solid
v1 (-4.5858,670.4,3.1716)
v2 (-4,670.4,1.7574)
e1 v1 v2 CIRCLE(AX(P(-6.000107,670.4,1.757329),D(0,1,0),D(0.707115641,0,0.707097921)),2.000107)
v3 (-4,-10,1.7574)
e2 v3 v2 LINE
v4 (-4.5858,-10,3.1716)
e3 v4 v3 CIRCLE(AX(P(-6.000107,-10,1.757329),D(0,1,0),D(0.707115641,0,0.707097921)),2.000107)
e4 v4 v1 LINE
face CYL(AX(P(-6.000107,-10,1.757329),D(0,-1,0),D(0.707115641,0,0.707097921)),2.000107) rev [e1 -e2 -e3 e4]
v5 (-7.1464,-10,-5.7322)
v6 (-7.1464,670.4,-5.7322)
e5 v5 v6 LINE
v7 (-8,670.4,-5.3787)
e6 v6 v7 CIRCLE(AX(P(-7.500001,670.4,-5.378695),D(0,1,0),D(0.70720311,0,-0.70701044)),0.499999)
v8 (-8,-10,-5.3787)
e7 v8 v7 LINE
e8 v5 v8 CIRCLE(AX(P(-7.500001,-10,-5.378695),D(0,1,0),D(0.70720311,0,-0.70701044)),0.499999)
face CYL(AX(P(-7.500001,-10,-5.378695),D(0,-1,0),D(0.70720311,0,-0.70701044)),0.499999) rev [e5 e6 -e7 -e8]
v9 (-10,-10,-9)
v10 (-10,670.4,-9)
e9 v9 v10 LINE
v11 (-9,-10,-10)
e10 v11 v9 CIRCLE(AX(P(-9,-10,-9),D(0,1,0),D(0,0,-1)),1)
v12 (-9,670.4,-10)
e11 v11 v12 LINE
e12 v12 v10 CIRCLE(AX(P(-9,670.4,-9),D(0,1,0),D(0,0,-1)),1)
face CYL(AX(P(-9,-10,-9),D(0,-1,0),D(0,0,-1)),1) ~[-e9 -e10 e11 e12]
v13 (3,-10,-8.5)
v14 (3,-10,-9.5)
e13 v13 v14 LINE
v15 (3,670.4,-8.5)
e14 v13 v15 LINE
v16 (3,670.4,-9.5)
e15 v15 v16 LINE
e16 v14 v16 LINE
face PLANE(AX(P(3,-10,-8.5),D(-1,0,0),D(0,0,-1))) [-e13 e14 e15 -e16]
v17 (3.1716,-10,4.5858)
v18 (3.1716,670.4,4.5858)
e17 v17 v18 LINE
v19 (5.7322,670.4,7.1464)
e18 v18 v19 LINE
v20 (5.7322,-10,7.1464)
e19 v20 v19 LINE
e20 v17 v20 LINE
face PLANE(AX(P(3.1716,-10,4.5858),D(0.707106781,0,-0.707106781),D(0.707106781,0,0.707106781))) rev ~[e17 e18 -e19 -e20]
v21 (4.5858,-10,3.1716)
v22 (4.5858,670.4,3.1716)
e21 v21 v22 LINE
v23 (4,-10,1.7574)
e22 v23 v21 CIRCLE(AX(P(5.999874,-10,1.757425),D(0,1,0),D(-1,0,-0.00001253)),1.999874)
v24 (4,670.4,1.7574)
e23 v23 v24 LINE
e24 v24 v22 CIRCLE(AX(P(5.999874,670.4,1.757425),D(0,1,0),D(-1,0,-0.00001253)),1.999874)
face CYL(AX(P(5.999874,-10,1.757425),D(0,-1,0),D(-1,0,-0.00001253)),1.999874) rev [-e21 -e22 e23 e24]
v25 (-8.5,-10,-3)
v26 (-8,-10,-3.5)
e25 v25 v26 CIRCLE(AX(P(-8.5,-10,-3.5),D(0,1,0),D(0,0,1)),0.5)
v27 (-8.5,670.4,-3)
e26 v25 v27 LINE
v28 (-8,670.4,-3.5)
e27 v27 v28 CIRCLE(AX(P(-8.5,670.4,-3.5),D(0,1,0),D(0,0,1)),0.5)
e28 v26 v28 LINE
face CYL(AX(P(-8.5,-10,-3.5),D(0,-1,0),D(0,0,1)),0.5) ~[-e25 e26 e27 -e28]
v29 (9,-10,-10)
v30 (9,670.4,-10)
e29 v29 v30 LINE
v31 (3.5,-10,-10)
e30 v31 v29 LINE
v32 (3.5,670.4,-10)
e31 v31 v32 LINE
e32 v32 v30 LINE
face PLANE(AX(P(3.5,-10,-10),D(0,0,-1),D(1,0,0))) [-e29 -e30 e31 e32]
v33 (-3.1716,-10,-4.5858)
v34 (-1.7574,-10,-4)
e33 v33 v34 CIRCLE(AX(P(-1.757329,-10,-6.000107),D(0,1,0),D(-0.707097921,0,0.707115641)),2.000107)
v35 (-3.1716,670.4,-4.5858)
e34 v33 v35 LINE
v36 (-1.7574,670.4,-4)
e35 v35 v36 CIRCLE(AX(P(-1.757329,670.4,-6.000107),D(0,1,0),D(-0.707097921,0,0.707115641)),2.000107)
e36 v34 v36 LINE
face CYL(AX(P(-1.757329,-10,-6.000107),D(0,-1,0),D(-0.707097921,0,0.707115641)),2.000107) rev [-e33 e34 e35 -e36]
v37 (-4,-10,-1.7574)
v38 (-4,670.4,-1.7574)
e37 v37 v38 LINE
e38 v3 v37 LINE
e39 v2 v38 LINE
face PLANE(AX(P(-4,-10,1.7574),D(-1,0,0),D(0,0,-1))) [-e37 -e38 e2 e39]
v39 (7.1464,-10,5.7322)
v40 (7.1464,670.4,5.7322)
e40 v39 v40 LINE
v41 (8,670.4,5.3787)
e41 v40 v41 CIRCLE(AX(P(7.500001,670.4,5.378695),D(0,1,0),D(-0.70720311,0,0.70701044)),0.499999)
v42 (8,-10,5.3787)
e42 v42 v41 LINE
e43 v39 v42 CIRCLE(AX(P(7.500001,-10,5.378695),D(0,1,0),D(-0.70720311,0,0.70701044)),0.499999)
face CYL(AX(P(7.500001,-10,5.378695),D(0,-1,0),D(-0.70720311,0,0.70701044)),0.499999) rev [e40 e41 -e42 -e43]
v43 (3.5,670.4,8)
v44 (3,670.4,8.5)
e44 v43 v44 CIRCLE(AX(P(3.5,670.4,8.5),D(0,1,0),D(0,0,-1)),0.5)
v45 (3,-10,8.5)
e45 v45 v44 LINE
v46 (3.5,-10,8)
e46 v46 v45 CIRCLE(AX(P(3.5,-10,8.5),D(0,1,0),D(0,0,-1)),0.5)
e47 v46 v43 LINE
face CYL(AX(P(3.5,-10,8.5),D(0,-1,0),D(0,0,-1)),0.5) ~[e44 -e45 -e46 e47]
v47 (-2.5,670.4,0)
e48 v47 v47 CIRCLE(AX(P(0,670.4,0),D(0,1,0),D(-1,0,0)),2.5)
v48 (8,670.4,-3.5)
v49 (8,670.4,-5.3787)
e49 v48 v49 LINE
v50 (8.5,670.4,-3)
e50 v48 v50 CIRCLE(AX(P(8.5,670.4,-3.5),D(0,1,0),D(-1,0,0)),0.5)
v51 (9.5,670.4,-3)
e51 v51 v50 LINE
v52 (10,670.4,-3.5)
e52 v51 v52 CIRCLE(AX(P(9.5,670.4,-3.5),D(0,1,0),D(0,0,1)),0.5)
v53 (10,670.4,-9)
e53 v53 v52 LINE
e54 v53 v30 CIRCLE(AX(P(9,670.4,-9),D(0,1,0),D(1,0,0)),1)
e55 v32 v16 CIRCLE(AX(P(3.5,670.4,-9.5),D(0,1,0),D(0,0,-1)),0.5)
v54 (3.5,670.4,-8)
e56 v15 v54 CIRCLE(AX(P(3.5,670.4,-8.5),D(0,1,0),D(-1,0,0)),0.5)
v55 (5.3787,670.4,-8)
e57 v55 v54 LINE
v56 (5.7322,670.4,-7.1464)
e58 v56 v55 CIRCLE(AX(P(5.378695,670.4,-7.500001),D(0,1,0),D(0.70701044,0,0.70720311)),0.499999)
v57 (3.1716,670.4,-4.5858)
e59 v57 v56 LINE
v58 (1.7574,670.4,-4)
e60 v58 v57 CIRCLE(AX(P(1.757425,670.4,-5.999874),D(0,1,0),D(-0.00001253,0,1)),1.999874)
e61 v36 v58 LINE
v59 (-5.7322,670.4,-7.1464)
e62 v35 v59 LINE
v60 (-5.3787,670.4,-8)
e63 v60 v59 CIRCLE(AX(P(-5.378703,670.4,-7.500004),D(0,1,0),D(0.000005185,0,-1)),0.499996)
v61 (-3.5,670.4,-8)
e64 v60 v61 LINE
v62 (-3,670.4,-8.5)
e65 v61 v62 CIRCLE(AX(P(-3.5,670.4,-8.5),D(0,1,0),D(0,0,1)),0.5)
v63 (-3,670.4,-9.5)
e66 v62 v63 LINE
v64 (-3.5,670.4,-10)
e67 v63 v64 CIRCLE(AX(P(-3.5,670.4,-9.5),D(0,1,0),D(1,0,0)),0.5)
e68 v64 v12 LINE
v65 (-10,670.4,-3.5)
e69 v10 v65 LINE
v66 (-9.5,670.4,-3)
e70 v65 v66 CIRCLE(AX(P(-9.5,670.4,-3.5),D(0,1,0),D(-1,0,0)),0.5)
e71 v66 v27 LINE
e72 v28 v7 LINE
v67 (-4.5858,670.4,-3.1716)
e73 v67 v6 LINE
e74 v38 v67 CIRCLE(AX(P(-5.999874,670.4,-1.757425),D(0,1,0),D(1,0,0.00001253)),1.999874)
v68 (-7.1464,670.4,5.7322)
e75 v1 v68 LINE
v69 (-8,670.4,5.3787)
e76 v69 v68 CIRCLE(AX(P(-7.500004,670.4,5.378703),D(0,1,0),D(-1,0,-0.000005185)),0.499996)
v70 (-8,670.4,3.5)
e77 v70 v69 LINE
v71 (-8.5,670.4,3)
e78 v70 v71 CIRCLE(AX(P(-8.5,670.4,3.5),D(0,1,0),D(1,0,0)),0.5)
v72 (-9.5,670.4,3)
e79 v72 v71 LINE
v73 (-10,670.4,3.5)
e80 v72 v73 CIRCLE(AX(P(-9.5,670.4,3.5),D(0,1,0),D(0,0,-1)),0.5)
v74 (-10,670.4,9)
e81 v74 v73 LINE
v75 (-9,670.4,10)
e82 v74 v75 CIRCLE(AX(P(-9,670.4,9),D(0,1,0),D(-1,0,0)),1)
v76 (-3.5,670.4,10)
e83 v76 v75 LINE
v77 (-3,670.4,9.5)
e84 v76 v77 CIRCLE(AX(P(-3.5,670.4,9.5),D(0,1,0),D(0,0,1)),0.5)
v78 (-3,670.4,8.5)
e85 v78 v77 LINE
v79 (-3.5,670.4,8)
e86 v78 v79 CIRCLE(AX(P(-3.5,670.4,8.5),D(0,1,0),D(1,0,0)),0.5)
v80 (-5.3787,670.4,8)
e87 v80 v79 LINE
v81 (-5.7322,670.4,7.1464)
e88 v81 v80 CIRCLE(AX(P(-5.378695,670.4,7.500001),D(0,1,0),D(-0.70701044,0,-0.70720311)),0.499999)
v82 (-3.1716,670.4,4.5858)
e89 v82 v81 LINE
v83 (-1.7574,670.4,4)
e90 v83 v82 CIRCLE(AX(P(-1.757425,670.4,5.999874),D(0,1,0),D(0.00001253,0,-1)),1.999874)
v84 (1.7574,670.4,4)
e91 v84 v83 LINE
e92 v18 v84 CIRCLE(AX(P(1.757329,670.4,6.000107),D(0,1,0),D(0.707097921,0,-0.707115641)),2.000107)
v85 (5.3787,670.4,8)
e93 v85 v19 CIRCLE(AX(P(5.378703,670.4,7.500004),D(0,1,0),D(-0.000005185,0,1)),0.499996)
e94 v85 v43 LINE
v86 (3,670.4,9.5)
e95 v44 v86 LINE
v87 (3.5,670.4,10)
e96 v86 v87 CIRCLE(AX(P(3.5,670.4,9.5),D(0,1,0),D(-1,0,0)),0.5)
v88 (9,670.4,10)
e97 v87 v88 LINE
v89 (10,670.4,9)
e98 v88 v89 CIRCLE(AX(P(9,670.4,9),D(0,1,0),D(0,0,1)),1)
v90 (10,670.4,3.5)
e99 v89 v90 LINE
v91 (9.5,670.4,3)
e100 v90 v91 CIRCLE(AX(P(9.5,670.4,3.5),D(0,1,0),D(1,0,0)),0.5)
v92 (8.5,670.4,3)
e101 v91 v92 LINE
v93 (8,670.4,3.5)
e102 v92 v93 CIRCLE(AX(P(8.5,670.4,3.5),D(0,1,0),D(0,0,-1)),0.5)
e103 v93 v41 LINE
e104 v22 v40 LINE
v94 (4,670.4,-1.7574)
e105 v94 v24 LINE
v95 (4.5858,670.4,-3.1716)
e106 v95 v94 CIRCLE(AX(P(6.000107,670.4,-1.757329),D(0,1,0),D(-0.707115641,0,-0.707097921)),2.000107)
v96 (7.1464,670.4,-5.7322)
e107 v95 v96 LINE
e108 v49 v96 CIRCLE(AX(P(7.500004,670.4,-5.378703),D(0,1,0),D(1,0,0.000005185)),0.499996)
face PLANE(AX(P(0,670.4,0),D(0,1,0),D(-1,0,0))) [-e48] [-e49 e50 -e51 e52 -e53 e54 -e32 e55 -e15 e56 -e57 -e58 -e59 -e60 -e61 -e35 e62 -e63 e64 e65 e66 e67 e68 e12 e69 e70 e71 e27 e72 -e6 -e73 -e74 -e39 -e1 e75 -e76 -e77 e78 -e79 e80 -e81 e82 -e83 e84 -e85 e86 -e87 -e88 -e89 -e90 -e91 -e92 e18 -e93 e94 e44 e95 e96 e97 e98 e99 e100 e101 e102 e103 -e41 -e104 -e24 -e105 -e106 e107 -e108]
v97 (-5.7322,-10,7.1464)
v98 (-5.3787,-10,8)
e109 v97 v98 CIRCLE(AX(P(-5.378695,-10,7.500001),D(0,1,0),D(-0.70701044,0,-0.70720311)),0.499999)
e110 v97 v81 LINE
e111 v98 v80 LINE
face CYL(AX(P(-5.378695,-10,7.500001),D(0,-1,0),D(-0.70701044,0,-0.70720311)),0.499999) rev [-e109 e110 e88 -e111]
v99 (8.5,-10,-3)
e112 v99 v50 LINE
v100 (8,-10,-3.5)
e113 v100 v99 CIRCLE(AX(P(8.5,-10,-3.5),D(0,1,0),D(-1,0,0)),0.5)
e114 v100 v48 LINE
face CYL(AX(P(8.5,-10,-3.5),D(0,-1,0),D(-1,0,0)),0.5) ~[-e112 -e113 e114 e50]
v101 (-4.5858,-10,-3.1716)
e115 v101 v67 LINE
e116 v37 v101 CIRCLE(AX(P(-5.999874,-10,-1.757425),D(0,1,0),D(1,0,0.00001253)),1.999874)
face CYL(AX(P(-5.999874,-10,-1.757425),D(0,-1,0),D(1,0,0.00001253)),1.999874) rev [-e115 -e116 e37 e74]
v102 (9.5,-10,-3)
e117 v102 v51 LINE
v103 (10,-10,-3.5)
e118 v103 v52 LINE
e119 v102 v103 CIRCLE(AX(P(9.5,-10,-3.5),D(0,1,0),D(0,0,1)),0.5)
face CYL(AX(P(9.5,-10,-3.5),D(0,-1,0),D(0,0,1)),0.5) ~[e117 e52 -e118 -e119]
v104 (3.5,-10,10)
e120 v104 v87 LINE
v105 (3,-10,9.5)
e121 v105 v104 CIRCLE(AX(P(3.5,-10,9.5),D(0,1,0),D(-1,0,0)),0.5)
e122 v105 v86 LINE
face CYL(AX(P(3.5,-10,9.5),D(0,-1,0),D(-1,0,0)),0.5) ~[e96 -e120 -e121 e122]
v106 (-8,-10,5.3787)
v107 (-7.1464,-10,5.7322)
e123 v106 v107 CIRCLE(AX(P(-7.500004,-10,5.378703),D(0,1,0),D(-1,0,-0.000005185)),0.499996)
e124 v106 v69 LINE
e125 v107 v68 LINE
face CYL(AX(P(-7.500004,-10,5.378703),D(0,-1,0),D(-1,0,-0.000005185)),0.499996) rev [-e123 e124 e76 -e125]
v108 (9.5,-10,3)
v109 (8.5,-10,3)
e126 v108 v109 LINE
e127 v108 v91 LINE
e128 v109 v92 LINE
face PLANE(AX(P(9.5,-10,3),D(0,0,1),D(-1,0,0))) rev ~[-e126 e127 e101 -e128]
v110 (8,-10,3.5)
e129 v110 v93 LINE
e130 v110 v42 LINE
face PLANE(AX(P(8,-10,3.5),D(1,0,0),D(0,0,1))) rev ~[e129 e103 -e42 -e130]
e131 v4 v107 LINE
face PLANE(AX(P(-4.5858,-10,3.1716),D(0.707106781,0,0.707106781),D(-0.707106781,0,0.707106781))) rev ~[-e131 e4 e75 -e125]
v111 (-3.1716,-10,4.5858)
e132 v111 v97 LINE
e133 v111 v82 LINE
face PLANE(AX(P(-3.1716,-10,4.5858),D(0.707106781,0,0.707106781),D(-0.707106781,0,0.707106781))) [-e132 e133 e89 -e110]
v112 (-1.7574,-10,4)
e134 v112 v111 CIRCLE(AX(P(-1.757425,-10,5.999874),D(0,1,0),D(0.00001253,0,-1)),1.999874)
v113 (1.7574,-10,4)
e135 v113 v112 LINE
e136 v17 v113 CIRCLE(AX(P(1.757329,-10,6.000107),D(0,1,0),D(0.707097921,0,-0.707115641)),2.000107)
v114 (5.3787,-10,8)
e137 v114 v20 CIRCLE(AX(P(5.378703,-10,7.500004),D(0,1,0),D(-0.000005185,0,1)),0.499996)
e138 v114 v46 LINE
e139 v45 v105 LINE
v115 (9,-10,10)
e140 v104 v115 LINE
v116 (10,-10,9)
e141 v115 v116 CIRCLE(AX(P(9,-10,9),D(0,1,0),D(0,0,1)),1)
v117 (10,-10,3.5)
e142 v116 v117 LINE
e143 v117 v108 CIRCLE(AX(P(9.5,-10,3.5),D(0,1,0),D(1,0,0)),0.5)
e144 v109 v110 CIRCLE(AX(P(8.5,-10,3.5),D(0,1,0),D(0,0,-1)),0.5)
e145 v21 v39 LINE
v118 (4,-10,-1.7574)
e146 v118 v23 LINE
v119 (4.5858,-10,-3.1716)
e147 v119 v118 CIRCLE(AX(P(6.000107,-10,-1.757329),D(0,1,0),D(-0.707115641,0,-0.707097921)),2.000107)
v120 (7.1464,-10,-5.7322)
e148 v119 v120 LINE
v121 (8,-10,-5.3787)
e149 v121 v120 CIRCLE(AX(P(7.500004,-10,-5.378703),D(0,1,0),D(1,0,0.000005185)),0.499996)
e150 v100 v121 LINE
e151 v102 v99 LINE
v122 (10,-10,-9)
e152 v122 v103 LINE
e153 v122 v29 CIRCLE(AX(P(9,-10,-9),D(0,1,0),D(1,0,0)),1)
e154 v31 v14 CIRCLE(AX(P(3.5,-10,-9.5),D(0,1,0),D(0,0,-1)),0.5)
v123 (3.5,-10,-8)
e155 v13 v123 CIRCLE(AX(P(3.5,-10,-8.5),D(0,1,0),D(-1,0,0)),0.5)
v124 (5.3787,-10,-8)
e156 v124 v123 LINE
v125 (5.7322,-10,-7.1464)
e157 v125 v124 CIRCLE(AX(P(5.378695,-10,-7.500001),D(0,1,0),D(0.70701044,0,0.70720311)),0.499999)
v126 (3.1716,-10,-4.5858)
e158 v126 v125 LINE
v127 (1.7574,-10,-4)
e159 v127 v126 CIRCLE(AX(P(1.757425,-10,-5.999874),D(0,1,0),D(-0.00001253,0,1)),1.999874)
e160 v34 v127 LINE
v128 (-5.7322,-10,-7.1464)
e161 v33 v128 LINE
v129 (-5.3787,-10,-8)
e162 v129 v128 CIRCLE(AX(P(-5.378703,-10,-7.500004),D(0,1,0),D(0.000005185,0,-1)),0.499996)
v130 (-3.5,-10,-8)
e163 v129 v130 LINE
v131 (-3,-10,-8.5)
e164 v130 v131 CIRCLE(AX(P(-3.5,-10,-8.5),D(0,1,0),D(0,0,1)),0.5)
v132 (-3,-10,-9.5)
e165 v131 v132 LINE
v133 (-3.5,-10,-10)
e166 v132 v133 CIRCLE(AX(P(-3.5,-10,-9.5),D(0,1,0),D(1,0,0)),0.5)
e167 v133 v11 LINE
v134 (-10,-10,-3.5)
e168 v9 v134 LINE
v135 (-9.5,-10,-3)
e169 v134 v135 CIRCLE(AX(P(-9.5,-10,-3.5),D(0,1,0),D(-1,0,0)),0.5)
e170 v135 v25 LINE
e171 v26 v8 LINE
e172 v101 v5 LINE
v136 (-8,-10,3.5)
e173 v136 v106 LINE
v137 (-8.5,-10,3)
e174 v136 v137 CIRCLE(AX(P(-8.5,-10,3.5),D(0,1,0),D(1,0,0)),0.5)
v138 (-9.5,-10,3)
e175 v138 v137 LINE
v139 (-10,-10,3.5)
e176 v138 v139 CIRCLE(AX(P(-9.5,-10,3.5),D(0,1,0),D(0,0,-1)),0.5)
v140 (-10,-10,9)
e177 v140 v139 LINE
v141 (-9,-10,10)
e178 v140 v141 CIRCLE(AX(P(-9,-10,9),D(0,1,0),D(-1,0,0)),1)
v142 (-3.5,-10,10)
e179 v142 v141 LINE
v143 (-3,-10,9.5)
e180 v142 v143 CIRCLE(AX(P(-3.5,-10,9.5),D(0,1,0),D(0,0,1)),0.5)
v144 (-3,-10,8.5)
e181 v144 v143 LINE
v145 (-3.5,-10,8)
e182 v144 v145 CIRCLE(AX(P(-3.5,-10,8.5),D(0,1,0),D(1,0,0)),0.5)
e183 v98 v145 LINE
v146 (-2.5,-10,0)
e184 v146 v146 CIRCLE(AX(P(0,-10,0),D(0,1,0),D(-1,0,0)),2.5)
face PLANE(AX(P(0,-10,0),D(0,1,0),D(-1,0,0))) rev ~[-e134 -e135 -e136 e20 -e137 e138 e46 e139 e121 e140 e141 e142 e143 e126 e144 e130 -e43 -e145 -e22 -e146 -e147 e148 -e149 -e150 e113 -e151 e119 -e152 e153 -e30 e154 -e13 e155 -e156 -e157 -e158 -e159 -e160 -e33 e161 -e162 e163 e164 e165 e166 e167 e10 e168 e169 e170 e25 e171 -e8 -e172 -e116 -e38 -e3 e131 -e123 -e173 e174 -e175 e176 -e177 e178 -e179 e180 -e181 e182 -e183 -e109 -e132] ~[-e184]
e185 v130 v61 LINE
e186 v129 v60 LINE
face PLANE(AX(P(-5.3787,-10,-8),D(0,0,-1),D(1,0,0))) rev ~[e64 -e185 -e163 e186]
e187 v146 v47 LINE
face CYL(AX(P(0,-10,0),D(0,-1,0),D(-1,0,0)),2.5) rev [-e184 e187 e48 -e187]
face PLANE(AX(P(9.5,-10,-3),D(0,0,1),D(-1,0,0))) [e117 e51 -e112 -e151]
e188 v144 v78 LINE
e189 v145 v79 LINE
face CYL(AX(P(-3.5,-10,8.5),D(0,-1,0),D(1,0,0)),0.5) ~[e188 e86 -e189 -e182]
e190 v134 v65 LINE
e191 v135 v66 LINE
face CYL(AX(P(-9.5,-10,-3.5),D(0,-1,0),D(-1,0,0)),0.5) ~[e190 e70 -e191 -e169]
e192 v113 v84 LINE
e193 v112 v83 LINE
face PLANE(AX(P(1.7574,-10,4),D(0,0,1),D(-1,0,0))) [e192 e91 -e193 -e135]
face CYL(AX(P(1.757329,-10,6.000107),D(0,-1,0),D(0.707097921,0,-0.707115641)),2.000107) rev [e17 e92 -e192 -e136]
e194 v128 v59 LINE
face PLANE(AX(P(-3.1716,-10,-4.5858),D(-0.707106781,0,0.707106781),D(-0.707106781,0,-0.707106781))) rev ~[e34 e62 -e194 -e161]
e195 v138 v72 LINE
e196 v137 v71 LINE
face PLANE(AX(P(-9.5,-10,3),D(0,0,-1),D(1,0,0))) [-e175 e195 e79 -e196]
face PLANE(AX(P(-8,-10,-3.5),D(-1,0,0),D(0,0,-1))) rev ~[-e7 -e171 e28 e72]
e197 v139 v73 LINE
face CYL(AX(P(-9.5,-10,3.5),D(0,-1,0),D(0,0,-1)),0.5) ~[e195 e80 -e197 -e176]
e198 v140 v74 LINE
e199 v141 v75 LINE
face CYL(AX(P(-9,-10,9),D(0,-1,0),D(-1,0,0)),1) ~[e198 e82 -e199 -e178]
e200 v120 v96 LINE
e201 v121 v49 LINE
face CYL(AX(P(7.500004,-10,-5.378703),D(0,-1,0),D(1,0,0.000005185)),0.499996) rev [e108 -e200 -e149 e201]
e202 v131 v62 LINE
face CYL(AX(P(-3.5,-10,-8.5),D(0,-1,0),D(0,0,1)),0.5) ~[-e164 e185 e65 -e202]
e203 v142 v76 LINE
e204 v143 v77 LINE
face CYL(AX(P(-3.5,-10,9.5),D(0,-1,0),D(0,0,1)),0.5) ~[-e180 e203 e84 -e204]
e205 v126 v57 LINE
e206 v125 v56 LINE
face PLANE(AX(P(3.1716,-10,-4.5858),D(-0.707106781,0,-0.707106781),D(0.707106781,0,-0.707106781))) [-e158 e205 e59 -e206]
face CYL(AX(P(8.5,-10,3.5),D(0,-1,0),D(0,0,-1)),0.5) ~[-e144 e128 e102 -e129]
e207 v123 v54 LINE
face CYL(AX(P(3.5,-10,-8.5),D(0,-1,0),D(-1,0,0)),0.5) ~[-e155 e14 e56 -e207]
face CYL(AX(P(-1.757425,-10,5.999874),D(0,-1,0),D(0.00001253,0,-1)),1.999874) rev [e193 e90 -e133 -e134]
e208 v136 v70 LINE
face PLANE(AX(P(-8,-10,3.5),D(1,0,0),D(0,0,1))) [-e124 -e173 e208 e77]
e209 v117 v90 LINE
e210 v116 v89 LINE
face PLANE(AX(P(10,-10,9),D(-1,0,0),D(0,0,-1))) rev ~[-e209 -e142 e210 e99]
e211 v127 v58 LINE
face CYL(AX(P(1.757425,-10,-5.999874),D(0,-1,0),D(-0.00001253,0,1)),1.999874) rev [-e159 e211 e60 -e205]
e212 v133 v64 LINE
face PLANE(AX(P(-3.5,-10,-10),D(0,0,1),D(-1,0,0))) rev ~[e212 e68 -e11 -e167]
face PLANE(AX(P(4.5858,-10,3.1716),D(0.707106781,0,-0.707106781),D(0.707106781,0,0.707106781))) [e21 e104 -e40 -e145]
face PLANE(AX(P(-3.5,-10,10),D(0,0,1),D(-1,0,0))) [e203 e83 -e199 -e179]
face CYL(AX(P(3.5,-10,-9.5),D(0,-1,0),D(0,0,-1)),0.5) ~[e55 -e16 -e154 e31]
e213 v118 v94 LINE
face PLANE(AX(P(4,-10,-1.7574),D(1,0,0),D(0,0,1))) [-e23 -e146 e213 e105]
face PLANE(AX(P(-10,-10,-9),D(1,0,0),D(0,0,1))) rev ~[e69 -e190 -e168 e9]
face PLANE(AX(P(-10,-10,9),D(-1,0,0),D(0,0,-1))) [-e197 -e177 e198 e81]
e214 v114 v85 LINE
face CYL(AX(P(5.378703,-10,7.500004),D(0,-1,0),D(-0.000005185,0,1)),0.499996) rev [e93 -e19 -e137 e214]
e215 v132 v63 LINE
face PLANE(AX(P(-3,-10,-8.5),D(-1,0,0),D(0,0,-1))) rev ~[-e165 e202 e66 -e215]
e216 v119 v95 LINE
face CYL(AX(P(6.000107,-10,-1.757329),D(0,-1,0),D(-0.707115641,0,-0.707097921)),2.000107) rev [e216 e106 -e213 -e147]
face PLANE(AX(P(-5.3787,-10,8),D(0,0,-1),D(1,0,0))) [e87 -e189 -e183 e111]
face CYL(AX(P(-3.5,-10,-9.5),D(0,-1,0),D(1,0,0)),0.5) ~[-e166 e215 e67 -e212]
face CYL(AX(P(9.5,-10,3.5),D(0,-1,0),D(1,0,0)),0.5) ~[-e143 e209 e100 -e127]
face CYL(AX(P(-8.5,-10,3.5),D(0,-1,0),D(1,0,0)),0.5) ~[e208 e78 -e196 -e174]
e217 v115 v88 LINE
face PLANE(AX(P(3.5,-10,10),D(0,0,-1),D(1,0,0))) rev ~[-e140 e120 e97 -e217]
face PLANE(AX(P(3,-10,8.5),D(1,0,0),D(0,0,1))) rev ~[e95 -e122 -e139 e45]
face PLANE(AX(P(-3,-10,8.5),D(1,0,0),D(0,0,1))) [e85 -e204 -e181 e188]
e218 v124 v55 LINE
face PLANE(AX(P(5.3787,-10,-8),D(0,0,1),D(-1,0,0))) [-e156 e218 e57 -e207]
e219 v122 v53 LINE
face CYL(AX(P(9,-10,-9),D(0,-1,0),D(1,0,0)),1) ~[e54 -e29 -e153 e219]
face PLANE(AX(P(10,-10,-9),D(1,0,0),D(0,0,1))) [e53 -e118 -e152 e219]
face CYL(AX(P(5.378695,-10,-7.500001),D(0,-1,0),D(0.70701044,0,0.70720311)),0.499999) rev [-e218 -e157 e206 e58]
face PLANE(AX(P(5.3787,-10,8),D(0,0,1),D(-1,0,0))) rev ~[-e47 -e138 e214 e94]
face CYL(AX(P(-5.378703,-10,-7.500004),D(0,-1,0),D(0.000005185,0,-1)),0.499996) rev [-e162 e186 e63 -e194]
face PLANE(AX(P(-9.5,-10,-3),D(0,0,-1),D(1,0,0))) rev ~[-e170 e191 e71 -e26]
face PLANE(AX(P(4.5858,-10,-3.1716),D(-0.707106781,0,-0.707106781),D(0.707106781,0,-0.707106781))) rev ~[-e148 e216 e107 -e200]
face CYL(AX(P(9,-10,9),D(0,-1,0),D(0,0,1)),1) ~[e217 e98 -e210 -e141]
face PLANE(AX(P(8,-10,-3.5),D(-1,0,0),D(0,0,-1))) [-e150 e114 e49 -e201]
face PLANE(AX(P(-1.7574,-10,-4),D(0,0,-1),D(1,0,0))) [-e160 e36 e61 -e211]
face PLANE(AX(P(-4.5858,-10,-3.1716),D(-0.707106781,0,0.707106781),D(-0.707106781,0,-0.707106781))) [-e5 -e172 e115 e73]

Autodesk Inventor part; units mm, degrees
ref_plane "Start Plane" through (0, -10, 0) normal (0, 1, 0) x (-1, 0, 0)
ref_plane "End Plane" through (0, 670.4, 0) normal (0, 1, 0) x (-1, 0, 0)
sketch "Sketch" plane through (0, 0, 0) normal (0, 1, 0) x (-1, 0, 0)
  line L0 (-1.7574, 4) -> (1.7574, 4)
  line L1 (4, 1.7574) -> (4, -1.7574)
  line L2 (1.7574, -4) -> (-1.7574, -4)
  line L3 (-4, -1.7574) -> (-4, 1.7574)
  line L4 (4.5858, -3.1716) -> (7.1464, -5.7322)
  line L5 (3.1716, -4.5858) -> (5.7322, -7.1464)
  line L6 (5.3787, -8) -> (3.5, -8)
  line L7 (3, -8.5) -> (3, -9.5)
  line L8 (3.5, -10) -> (9, -10)
  line L9 (10, -9) -> (10, -3.5)
  line L10 (9.5, -3) -> (8.5, -3)
  line L11 (8, -3.5) -> (8, -5.3787)
  line L12 (4, 0) -> (-4, 0) construction
  line L13 (0, -4) -> (0, 4) construction
  arc A0 (4, -1.7574) -> (4.5858, -3.1716) centre (6, -1.7574) ccw
  arc A1 (3.1716, -4.5858) -> (1.7574, -4) centre (1.7574, -6) ccw
  arc A2 (3.5, -8) -> (3, -8.5) centre (3.5, -8.5) ccw
  arc A3 (3, -9.5) -> (3.5, -10) centre (3.5, -9.5) ccw
  arc A4 (10, -3.5) -> (9.5, -3) centre (9.5, -3.5) ccw
  arc A5 (8.5, -3) -> (8, -3.5) centre (8.5, -3.5) ccw
  arc A6 (7.1464, -5.7322) -> (8, -5.3787) centre (7.5, -5.3787) ccw
  arc A7 (5.3787, -8) -> (5.7322, -7.1464) centre (5.3787, -7.5) ccw
  arc A8 (9, -10) -> (10, -9) centre (9, -9) ccw
  line L14 (-4.5858, -3.1716) -> (-7.1464, -5.7322)
  line L15 (-3.1716, -4.5858) -> (-5.7322, -7.1464)
  line L16 (-5.3787, -8) -> (-3.5, -8)
  line L17 (-3, -8.5) -> (-3, -9.5)
  line L18 (-3.5, -10) -> (-9, -10)
  line L19 (-10, -9) -> (-10, -3.5)
  line L20 (-9.5, -3) -> (-8.5, -3)
  line L21 (-8, -3.5) -> (-8, -5.3787)
  arc A9 (-4.5858, -3.1716) -> (-4, -1.7574) centre (-6, -1.7574) ccw
  arc A10 (-1.7574, -4) -> (-3.1716, -4.5858) centre (-1.7574, -6) ccw
  arc A11 (-3, -8.5) -> (-3.5, -8) centre (-3.5, -8.5) ccw
  arc A12 (-3.5, -10) -> (-3, -9.5) centre (-3.5, -9.5) ccw
  arc A13 (-9.5, -3) -> (-10, -3.5) centre (-9.5, -3.5) ccw
  arc A14 (-8, -3.5) -> (-8.5, -3) centre (-8.5, -3.5) ccw
  arc A15 (-8, -5.3787) -> (-7.1464, -5.7322) centre (-7.5, -5.3787) ccw
  arc A16 (-5.7322, -7.1464) -> (-5.3787, -8) centre (-5.3787, -7.5) ccw
  arc A17 (-10, -9) -> (-9, -10) centre (-9, -9) ccw
  line L22 (4.5858, 3.1716) -> (7.1464, 5.7322)
  line L23 (3.1716, 4.5858) -> (5.7322, 7.1464)
  line L24 (5.3787, 8) -> (3.5, 8)
  line L25 (3, 8.5) -> (3, 9.5)
  line L26 (3.5, 10) -> (9, 10)
  line L27 (10, 9) -> (10, 3.5)
  line L28 (9.5, 3) -> (8.5, 3)
  line L29 (8, 3.5) -> (8, 5.3787)
  arc A18 (4.5858, 3.1716) -> (4, 1.7574) centre (6, 1.7574) ccw
  arc A19 (1.7574, 4) -> (3.1716, 4.5858) centre (1.7574, 6) ccw
  arc A20 (3, 8.5) -> (3.5, 8) centre (3.5, 8.5) ccw
  arc A21 (3.5, 10) -> (3, 9.5) centre (3.5, 9.5) ccw
  arc A22 (9.5, 3) -> (10, 3.5) centre (9.5, 3.5) ccw
  arc A23 (8, 3.5) -> (8.5, 3) centre (8.5, 3.5) ccw
  arc A24 (8, 5.3787) -> (7.1464, 5.7322) centre (7.5, 5.3787) ccw
  arc A25 (5.7322, 7.1464) -> (5.3787, 8) centre (5.3787, 7.5) ccw
  arc A26 (10, 9) -> (9, 10) centre (9, 9) ccw
  line L30 (-10, 9) -> (-10, 3.5)
  arc A27 (-9, 10) -> (-10, 9) centre (-9, 9) ccw
  arc A28 (-10, 3.5) -> (-9.5, 3) centre (-9.5, 3.5) ccw
  line L31 (-9.5, 3) -> (-8.5, 3)
  arc A29 (-8.5, 3) -> (-8, 3.5) centre (-8.5, 3.5) ccw
  line L32 (-8, 3.5) -> (-8, 5.3787)
  arc A30 (-7.1464, 5.7322) -> (-8, 5.3787) centre (-7.5, 5.3787) ccw
  line L33 (-4.5858, 3.1716) -> (-7.1464, 5.7322)
  line L34 (-3.1716, 4.5858) -> (-5.7322, 7.1464)
  arc A31 (-3.1716, 4.5858) -> (-1.7574, 4) centre (-1.7574, 6) ccw
  arc A32 (-4, 1.7574) -> (-4.5858, 3.1716) centre (-6, 1.7574) ccw
  arc A33 (-5.3787, 8) -> (-5.7322, 7.1464) centre (-5.3787, 7.5) ccw
  line L35 (-5.3787, 8) -> (-3.5, 8)
  arc A34 (-3.5, 8) -> (-3, 8.5) centre (-3.5, 8.5) ccw
  line L36 (-3, 8.5) -> (-3, 9.5)
  arc A35 (-3, 9.5) -> (-3.5, 10) centre (-3.5, 9.5) ccw
  line L37 (-3.5, 10) -> (-9, 10)
  circle A36 centre (0, 0) radius 2.5
  point P0 (3, -8)
  point P1 (3, -10)
  point P2 (10, -10)
  dimension "d3" = 2
  dimension "d4" = 2
  dimension "d5" = 7
  dimension "d6" = 2
  dimension "d7" = 0.5
  dimension "d8" = 1
  dimension "d9" = 20
  dimension "d10" = 20
  dimension "d11" = 8
  dimension "d13" = 5
  dimension "d14" = 8
extrude "Body" add sketch "Sketch" along normal up to surface (680.4 mm away) from surface at -10
sketch "Sketch4" plane through (0, 0, 0) normal (0, 1, 0) x (-1, 0, 0)
  line L0 (0, 0) -> (10, 0)
ref_plane "Work Plane4" through (0, 0, 0) normal (0, 0, -1) x (-1, 0, 0)
sketch "Sketch5" plane through (0, 0, 0) normal (0, 0, -1) x (-1, 0, 0)
  line L0 (-2, -10) -> (12, -10)
  line L1 (-2, 670.4) -> (12, 670.4)
  dimension "d22" = 680.4
ref_plane "Work Plane5" through (-9, -10, -279.4) normal (0, -1, 0) x (1, 0, 0)
split "Split1" plane through (-9, -10, -279.4) removes the side toward (0, -1, 0)
ref_plane "Work Plane6" through (3.5, 670.4, 0) normal (0, 1, 0) x (1, 0, 0)
split "Split2" plane through (3.5, 670.4, 0) removes the side toward (0, 1, 0)
equation "\"d18\" = Length + G_OFFSET_END"
equation "\"G_L\" = d22"
equation "\"Length\" = 660.4"
equation "\"G_OFFSET_END\" = 10"
properties part number "A3.3"
